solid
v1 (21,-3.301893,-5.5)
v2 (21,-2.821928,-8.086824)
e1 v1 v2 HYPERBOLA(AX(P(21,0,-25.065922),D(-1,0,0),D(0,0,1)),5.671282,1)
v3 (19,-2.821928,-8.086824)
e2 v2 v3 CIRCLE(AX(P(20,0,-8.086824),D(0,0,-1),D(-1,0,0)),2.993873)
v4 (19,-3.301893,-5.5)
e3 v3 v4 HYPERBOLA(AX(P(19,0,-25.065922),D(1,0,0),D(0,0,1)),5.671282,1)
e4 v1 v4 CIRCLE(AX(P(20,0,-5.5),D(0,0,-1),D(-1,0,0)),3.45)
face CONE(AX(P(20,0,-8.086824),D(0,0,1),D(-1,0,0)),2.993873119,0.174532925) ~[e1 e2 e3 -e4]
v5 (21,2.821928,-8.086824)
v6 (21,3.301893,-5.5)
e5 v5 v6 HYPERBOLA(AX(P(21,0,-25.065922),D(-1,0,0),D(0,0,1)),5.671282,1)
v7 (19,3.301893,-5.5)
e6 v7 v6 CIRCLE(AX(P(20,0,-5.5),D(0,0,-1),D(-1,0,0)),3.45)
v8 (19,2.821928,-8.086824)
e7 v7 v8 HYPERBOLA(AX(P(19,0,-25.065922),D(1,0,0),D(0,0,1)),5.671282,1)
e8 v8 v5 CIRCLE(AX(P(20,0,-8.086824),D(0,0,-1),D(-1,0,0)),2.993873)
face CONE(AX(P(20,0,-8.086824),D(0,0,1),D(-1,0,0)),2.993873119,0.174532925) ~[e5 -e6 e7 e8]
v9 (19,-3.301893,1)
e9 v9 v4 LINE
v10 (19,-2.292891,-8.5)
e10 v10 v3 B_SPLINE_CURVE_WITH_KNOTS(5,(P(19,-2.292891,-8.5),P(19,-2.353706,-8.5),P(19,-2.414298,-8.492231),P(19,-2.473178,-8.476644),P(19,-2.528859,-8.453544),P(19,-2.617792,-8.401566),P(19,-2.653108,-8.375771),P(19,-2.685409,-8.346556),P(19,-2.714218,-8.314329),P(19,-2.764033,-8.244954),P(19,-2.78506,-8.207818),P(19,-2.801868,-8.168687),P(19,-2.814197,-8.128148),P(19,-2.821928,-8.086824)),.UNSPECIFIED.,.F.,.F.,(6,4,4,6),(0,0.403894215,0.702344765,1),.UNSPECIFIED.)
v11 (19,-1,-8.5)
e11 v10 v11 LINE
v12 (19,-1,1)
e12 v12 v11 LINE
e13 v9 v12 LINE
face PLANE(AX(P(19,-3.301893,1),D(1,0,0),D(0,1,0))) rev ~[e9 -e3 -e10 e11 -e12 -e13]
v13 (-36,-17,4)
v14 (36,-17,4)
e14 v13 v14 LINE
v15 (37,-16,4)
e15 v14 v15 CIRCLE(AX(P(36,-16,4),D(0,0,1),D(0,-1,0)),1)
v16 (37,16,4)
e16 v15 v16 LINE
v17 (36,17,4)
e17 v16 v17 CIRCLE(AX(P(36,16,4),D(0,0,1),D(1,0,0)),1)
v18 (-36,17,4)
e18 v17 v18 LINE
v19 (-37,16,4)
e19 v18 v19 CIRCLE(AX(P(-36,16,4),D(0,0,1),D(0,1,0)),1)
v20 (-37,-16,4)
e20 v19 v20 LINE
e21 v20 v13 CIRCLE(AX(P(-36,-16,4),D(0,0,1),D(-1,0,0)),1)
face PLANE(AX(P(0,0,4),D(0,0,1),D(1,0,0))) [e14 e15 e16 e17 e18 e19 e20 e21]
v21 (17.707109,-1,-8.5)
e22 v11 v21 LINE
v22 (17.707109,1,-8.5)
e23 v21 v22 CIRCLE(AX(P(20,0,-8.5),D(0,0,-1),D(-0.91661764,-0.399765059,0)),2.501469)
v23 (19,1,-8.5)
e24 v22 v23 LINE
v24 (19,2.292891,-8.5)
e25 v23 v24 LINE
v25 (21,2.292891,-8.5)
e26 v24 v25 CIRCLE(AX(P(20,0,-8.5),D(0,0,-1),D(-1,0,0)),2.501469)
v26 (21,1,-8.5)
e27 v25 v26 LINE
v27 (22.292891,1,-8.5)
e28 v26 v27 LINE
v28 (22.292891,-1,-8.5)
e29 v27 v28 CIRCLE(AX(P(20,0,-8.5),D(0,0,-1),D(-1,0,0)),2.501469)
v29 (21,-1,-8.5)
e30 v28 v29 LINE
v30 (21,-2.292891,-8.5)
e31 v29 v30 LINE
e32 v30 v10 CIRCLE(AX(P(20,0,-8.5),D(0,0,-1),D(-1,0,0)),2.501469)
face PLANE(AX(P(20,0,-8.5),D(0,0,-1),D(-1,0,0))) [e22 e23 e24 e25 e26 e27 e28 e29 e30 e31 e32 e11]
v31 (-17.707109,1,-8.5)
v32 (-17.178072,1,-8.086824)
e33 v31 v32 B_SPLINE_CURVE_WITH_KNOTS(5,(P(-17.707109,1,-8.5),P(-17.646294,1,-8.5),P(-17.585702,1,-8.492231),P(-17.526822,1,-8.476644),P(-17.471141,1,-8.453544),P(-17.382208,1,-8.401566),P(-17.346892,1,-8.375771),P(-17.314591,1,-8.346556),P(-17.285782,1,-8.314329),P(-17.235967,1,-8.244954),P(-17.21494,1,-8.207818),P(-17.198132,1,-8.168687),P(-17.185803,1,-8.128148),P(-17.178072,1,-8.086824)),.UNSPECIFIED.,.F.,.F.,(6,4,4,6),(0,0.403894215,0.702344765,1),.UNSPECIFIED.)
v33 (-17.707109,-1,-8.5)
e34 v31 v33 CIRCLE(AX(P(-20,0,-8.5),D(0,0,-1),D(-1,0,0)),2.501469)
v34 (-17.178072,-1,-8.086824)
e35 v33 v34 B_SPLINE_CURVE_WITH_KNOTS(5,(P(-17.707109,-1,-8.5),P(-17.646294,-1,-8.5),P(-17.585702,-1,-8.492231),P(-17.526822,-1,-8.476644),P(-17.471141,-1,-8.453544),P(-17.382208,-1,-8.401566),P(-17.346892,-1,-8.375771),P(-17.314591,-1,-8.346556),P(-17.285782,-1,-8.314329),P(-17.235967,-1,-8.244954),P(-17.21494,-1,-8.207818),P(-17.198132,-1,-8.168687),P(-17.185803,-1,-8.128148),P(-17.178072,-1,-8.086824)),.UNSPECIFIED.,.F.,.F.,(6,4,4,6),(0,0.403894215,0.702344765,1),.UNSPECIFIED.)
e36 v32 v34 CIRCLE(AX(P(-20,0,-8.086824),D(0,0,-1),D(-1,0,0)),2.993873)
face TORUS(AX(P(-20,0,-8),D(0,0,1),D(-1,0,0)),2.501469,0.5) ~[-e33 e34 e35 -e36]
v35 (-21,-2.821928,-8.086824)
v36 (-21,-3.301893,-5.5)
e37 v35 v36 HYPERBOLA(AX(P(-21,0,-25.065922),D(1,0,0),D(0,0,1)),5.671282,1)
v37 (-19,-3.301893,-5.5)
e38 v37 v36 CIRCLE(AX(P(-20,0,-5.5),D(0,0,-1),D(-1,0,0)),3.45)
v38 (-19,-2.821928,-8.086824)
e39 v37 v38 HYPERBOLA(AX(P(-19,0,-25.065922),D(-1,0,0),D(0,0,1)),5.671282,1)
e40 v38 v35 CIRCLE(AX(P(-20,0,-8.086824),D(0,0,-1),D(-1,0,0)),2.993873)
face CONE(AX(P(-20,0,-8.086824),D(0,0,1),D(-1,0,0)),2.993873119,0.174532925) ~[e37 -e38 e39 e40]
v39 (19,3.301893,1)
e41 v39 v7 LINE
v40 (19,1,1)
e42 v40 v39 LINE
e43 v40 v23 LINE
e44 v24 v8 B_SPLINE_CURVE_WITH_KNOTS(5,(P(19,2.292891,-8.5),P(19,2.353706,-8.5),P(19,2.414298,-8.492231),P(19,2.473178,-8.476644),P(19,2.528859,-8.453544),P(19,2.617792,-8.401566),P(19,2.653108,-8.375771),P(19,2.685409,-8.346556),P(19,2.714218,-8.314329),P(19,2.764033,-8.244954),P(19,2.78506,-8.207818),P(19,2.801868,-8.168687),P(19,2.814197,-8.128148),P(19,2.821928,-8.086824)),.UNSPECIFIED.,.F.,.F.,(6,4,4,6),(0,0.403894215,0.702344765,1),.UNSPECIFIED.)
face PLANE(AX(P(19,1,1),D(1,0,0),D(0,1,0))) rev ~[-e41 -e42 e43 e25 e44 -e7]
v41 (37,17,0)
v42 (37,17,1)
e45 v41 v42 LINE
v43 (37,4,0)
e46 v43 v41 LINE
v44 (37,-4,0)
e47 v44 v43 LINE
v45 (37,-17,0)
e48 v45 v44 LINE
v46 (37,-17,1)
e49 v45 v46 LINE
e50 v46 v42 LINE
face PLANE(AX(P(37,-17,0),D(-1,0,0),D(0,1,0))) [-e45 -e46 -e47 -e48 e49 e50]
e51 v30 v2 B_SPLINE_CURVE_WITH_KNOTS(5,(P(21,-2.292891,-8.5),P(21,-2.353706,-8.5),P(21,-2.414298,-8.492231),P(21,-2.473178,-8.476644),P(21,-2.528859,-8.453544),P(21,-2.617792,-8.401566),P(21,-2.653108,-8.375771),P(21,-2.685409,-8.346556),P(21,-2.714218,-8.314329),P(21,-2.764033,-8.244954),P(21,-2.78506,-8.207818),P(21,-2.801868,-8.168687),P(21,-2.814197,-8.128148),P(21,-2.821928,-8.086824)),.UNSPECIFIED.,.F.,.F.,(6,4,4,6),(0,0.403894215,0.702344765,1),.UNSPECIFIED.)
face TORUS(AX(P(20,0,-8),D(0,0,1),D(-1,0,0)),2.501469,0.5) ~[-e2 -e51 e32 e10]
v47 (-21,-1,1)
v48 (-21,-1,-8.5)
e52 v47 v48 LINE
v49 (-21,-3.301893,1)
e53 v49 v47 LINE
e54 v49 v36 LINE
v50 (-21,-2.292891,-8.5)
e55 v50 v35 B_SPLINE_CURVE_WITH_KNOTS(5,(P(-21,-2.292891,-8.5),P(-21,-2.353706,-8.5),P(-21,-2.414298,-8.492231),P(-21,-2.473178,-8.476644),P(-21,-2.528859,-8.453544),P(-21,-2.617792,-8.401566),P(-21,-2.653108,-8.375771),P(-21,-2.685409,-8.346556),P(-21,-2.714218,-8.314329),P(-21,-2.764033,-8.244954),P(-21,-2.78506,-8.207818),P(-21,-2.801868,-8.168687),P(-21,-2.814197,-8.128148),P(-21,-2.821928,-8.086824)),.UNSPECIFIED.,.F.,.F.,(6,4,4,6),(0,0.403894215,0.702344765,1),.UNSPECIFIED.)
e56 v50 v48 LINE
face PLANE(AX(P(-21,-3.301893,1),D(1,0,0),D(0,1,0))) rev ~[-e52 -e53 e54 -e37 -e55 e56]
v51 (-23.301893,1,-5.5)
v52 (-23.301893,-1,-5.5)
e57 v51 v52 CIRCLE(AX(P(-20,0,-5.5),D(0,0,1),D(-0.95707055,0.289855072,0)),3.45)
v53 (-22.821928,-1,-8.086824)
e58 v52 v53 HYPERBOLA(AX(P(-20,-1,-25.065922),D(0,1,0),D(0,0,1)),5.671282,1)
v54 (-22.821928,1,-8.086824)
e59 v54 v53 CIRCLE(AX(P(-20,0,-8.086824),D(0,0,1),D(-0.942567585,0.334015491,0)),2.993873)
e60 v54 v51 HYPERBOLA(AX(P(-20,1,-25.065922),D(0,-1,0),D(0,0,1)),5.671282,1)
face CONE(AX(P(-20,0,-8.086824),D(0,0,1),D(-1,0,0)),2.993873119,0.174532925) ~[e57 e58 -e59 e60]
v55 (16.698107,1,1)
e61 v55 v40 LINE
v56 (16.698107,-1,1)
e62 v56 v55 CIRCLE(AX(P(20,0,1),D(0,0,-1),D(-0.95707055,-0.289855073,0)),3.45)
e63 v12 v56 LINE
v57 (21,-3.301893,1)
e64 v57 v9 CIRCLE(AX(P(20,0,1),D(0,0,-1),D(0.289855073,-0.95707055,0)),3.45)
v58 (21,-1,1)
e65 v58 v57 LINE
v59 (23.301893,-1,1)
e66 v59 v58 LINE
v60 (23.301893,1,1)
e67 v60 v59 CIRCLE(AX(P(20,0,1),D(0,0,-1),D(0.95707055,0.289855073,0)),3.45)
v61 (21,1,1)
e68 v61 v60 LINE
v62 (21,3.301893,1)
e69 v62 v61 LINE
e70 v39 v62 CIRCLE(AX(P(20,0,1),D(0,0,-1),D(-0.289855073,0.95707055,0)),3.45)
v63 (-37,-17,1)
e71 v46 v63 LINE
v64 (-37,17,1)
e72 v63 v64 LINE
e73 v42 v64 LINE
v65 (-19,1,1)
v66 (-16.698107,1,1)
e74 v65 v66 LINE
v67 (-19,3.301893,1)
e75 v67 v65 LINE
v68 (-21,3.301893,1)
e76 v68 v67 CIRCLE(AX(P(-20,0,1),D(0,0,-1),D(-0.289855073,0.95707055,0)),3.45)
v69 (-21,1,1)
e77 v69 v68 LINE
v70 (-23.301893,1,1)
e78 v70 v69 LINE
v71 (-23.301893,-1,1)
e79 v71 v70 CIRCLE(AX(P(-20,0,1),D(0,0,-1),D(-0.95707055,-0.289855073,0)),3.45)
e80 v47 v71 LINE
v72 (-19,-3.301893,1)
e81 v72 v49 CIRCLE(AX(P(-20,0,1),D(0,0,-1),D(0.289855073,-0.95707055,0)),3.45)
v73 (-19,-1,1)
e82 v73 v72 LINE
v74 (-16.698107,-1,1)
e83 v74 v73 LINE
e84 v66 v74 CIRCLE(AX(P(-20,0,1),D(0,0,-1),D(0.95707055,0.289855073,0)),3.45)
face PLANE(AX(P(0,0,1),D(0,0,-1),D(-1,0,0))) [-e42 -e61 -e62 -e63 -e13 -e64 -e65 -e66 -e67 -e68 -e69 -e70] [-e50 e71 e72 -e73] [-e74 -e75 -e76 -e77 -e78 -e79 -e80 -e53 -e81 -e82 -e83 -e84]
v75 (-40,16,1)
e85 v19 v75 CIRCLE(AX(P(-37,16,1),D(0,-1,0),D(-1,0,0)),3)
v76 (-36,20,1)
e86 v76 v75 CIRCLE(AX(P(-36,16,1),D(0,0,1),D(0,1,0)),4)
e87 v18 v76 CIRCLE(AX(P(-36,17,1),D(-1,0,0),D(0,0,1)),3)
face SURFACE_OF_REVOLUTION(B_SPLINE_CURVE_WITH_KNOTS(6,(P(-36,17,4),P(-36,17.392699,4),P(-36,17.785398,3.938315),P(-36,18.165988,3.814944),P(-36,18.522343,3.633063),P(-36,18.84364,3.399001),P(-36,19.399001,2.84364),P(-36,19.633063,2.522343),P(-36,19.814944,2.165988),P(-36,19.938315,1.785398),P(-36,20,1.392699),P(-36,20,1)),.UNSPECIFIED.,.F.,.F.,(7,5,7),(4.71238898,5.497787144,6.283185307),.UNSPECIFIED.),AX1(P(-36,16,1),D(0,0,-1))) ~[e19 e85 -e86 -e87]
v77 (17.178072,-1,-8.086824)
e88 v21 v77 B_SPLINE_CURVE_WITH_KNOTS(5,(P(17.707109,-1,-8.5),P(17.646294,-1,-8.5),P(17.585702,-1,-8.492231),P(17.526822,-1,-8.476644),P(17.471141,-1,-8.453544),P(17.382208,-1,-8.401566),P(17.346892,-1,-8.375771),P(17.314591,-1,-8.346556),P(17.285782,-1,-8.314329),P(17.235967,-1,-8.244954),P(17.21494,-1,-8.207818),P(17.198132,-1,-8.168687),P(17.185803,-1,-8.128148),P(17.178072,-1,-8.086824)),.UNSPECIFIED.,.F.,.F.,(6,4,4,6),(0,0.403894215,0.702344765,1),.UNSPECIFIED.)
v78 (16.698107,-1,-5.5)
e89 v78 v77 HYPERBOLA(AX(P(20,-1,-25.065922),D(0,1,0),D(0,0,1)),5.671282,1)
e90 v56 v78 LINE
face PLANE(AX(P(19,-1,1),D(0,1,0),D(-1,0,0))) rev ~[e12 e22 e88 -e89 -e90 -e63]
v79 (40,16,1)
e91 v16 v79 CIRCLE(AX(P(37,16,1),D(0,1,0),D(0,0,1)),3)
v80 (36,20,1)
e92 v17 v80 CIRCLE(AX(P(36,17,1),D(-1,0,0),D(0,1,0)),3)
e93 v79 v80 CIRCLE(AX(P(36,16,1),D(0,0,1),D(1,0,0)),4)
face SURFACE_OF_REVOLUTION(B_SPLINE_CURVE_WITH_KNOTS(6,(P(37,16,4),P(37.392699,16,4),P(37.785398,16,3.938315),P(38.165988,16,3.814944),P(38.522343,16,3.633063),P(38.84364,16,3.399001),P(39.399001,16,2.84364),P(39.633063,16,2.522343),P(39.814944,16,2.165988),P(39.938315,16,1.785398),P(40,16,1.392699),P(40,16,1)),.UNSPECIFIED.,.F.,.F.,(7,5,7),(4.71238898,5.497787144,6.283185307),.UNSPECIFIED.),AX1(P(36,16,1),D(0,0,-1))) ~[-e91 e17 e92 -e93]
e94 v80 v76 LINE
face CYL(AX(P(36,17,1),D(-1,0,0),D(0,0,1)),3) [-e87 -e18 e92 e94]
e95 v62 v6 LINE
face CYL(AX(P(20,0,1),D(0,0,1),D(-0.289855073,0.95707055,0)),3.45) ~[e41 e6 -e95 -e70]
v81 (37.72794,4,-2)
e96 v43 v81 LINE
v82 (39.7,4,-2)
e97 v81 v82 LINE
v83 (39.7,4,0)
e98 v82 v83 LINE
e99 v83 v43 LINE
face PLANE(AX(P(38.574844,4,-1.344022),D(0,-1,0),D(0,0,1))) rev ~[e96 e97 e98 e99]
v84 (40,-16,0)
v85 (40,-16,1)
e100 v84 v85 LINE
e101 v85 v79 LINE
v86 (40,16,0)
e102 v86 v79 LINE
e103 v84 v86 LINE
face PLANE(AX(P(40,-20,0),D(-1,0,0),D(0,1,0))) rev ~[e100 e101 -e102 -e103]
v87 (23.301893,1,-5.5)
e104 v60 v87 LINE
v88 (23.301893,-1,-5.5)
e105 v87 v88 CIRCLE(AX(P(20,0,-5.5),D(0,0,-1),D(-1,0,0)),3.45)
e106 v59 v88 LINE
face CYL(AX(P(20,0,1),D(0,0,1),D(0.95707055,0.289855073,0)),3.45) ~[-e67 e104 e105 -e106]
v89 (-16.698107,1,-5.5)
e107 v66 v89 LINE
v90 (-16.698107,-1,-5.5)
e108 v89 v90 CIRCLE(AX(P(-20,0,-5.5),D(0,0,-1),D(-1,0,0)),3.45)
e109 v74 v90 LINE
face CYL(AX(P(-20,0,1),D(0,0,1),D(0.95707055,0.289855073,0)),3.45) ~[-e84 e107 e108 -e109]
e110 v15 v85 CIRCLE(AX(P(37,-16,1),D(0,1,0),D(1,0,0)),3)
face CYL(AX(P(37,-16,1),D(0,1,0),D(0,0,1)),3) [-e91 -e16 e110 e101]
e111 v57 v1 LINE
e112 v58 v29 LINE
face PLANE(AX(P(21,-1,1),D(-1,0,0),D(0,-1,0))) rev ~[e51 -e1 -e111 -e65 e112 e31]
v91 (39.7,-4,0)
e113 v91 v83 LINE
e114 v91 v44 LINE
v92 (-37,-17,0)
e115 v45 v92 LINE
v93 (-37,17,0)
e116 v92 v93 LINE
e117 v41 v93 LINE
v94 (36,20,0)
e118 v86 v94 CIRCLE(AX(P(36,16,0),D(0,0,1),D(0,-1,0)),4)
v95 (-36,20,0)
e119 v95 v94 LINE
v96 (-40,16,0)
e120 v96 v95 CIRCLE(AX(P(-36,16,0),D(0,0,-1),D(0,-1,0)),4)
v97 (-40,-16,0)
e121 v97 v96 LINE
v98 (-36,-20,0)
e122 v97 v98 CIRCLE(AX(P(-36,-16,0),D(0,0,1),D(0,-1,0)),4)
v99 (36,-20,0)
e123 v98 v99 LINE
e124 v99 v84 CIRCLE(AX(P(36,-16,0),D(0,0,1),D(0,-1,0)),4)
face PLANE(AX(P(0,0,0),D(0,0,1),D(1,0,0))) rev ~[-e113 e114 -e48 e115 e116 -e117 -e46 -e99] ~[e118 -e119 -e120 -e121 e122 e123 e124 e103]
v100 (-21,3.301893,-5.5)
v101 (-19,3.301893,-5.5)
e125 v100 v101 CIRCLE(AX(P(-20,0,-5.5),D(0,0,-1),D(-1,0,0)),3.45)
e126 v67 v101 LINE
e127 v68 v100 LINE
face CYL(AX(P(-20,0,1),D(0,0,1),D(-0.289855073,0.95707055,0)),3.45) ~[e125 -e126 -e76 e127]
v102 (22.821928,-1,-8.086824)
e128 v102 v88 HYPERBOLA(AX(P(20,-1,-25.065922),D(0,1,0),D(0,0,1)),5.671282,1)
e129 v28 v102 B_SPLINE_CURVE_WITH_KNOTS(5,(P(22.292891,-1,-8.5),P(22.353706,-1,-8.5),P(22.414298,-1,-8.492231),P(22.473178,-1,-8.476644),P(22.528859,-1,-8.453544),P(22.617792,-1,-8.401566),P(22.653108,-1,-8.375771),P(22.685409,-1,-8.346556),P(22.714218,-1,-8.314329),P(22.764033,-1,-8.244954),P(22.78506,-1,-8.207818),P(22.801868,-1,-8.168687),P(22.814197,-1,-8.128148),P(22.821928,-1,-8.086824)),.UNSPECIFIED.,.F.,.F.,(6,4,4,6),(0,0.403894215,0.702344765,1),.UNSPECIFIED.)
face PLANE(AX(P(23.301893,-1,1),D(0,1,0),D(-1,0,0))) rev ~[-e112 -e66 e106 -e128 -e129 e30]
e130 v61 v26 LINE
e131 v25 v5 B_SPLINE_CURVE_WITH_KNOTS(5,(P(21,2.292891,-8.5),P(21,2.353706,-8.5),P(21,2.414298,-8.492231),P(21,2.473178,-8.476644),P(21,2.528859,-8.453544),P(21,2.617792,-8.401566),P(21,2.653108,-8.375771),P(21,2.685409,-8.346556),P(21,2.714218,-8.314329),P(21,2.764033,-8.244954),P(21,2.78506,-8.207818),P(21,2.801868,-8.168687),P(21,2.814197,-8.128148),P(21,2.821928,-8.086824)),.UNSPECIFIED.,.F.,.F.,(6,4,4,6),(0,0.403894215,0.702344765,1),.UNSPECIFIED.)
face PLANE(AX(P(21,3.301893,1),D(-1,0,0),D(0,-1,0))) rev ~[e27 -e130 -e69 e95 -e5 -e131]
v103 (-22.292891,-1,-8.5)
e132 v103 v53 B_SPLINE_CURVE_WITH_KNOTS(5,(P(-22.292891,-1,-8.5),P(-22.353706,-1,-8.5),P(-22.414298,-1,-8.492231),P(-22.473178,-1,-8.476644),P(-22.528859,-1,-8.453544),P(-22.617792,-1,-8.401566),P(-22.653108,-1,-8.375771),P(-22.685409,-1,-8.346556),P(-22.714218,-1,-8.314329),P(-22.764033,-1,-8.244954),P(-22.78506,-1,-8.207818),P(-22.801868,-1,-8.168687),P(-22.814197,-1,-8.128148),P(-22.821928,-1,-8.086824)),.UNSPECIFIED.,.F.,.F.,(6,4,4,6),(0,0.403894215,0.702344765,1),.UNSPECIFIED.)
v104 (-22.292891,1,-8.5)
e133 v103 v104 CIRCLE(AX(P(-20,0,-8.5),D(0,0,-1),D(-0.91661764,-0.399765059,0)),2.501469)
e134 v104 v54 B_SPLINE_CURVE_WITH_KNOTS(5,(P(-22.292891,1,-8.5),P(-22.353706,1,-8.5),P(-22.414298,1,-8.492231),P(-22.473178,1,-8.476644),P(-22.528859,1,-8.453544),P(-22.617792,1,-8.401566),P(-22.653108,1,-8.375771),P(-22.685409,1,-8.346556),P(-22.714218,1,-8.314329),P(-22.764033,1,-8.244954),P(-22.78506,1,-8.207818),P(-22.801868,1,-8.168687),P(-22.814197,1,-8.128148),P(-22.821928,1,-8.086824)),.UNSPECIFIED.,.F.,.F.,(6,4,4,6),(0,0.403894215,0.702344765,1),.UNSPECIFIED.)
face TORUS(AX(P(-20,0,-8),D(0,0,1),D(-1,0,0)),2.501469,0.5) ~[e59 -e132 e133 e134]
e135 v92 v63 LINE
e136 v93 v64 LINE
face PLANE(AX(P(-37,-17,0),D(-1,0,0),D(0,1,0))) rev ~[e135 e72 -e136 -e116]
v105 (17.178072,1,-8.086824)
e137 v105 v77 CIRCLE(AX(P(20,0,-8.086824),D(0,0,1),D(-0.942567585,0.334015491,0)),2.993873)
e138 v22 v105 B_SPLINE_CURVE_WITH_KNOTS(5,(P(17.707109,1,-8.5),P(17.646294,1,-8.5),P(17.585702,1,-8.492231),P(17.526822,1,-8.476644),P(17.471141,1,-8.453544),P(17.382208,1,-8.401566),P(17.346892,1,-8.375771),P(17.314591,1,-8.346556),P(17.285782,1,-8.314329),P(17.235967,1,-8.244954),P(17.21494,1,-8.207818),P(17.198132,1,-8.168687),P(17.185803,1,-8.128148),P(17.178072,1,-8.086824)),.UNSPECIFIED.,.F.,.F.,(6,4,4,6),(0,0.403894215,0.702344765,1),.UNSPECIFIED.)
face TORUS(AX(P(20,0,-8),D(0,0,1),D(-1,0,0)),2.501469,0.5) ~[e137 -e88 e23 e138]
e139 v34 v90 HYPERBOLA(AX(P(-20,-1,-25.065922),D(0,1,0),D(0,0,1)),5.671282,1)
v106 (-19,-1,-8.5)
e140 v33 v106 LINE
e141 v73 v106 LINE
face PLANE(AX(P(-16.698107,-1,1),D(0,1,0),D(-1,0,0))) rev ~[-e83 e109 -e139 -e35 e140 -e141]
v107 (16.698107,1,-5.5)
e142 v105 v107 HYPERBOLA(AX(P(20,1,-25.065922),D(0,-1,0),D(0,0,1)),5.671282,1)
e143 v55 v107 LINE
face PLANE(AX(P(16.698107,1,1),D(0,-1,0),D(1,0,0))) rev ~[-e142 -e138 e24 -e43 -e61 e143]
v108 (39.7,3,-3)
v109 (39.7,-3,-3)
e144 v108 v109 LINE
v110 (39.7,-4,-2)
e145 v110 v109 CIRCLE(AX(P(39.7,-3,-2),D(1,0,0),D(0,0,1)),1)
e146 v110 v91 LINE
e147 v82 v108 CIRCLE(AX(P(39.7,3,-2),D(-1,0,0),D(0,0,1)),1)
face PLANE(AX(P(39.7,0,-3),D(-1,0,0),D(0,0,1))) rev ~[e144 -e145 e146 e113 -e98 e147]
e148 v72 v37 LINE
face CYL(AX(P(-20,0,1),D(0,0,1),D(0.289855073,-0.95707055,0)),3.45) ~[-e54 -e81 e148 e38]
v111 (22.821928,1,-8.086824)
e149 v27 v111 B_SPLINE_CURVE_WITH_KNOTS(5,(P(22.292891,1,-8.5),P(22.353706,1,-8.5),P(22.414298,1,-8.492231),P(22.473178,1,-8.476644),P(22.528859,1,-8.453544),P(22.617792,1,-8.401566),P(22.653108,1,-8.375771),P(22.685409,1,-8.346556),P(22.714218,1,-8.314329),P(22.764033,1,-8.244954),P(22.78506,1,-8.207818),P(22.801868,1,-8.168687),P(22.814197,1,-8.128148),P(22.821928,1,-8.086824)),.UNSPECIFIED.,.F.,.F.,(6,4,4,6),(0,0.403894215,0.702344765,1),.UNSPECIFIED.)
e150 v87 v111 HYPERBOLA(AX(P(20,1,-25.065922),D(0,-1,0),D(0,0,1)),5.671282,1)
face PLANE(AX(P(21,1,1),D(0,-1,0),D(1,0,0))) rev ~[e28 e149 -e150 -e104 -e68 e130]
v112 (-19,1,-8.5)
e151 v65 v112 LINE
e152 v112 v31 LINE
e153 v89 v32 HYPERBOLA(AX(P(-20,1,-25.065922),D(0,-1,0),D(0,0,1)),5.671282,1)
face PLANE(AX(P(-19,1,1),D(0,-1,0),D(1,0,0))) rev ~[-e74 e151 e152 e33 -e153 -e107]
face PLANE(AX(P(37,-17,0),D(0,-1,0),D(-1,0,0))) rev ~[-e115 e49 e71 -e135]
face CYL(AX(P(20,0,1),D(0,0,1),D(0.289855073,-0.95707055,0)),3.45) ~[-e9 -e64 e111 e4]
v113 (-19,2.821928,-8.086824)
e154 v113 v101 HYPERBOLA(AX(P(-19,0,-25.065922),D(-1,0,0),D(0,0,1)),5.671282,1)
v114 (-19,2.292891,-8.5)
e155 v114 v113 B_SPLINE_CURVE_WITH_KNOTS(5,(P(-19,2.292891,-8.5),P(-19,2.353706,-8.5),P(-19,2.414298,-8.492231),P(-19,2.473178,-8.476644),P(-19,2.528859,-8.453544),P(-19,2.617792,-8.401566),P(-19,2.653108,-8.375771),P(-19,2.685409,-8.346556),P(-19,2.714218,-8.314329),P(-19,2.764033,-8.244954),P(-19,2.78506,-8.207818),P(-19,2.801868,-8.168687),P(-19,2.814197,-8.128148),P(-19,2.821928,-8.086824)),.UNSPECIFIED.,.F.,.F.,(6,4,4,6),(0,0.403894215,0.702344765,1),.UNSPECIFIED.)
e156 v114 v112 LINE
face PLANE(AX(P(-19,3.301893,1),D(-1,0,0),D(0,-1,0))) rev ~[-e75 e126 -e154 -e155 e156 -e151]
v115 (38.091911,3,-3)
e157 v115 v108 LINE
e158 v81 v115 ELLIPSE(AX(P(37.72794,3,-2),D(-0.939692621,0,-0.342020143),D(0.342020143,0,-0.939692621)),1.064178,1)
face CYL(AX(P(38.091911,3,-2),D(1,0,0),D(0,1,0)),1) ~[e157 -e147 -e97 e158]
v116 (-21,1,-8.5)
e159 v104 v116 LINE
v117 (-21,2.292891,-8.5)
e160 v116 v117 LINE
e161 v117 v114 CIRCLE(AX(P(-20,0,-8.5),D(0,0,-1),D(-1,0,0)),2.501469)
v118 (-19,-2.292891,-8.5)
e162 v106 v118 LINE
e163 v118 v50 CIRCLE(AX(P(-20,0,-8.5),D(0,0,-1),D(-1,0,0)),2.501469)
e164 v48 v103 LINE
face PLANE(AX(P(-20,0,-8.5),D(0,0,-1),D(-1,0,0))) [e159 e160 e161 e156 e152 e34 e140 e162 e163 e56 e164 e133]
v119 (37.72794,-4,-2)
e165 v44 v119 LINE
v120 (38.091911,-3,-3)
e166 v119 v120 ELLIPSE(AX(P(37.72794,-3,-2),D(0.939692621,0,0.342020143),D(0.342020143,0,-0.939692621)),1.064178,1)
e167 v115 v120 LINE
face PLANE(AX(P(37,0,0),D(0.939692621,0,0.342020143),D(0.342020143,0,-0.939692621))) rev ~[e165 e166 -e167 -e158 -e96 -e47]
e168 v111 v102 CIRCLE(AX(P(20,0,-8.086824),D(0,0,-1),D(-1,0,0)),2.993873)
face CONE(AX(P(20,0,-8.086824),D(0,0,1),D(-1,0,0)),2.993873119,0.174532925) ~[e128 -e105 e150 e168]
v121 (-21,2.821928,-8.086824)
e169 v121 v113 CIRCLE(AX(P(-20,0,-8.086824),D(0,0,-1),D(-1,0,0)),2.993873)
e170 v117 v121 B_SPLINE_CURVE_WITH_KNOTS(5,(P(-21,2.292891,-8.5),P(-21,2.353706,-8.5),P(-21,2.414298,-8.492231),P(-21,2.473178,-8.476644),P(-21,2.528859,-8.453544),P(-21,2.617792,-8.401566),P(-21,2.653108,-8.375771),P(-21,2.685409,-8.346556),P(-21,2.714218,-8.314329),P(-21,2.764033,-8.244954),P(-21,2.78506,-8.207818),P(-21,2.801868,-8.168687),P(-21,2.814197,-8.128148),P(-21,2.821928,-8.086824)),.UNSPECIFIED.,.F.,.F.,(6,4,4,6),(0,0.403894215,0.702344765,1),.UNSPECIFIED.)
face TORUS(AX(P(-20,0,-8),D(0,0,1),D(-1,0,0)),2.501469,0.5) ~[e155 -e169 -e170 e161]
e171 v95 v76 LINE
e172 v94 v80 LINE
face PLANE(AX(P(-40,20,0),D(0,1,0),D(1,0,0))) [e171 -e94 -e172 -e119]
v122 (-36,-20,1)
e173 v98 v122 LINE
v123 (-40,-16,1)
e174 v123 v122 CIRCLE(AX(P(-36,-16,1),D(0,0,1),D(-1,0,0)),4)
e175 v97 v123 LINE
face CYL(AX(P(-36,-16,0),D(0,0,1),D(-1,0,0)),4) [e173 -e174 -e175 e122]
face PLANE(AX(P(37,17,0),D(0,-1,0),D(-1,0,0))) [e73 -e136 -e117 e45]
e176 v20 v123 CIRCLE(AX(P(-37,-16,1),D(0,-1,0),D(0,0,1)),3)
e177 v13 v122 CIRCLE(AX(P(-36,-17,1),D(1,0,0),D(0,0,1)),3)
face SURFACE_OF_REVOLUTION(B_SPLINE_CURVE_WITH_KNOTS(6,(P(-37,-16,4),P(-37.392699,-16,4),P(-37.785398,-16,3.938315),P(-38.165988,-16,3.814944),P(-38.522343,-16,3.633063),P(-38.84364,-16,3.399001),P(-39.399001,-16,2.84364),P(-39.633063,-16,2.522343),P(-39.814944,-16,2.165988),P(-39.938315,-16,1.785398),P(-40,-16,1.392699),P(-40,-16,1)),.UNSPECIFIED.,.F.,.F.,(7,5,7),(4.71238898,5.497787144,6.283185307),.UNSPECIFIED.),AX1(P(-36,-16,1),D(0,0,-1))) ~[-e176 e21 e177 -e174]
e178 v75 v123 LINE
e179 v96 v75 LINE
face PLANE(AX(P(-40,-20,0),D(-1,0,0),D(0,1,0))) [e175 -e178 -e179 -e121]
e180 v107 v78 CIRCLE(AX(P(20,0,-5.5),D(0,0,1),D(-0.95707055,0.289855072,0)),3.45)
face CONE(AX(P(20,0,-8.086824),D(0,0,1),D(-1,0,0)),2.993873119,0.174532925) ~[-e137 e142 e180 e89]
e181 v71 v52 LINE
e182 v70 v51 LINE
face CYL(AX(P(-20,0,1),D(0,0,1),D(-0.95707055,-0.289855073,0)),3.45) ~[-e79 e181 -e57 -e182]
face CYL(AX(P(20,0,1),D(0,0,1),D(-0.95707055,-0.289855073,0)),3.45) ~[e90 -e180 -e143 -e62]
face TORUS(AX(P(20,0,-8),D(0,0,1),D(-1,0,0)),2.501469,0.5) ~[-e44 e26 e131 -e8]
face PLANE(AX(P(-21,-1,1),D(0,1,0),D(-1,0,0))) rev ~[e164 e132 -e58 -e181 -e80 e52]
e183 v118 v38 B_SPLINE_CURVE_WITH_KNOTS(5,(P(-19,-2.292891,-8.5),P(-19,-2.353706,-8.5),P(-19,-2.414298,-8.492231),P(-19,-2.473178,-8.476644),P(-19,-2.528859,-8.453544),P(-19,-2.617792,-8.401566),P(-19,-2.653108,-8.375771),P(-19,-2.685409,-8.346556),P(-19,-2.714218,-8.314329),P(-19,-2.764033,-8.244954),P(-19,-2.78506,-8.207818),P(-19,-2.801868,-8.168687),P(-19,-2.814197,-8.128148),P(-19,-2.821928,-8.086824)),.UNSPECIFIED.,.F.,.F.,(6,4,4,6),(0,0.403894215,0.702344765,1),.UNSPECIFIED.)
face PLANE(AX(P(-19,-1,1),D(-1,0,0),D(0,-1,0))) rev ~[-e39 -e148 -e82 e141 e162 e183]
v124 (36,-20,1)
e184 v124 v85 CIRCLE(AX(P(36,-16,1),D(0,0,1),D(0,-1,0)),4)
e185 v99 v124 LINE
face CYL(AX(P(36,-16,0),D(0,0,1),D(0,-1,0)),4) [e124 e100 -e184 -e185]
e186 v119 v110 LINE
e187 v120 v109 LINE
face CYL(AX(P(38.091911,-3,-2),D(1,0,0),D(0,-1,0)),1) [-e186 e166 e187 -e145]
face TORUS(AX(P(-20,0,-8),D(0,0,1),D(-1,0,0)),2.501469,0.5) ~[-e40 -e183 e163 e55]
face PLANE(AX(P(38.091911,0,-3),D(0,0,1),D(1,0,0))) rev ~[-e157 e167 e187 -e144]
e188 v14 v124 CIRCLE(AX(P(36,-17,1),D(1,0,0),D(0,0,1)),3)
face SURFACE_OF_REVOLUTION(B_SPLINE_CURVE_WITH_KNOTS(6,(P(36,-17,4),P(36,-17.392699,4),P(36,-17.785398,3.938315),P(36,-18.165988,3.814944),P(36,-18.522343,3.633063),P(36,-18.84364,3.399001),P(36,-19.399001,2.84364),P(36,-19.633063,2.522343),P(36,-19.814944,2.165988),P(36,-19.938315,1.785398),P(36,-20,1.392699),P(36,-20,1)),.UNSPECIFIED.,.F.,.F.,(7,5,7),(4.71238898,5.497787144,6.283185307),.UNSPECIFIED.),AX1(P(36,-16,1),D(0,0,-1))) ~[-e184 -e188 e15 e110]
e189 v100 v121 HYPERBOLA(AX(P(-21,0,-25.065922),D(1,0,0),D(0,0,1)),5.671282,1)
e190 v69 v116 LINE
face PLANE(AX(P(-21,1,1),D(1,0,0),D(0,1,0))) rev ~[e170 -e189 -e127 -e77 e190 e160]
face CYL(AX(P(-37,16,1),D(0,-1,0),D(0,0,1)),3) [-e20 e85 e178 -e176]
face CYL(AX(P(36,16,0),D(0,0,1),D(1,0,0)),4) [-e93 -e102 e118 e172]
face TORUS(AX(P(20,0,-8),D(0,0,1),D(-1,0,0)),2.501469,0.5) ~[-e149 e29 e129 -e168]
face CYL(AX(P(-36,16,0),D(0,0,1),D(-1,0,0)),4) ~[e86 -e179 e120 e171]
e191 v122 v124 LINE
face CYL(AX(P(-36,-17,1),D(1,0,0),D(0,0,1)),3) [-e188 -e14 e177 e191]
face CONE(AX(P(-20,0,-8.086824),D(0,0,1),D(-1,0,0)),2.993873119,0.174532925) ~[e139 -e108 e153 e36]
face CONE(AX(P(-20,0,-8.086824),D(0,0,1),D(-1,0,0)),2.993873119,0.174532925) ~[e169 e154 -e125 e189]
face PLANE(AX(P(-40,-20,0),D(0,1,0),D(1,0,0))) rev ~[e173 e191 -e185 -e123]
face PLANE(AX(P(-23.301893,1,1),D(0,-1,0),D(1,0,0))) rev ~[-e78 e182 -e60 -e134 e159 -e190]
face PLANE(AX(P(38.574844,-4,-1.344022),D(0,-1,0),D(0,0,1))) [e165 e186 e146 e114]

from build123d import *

# Parameters (mm, degrees)
SKETCH1_W           = 80
SKETCH1_H           = 40
BOSS_EXTRUDE1_DEPTH = 4
FILLET1_R           = 4
FILLET2_R           = 3
SKETCH2_W           = 74
SKETCH2_H           = 34
CUT_EXTRUDE1_DEPTH  = 1
BOSS_EXTRUDE2_DEPTH = 4
FILLET3_R           = 1
BOSS_EXTRUDE3_DEPTH = 9.5
LPATTERN1_COUNT     = 2
LPATTERN1_PITCH     = 40


with BuildPart() as part:
    # Sketch1 → Boss-Extrude1 (new body)
    with BuildSketch(Plane.XY):
        Rectangle(SKETCH1_W, SKETCH1_H)
    extrude(amount=BOSS_EXTRUDE1_DEPTH)

    # Fillet1
    fillet1_edges = [part.edges().sort_by_distance(p)[0] for p in [
        (-40, 20, 2),
        (40, 20, 2),
        (40, -20, 2),
        (-40, -20, 2),
    ]]
    fillet(fillet1_edges, radius=FILLET1_R)

    # Fillet2
    fillet2_edges = [part.edges().sort_by_distance(p)[0] for p in [
        (0, -20, 4),
        (-40, 0, 4),
        (40, 0, 4),
        (0, 20, 4),
        (-38.828427125, 18.828427125, 4),
        (38.828427125, 18.828427125, 4),
        (38.828427125, -18.828427125, 4),
        (-38.828427125, -18.828427125, 4),
    ]]
    fillet(fillet2_edges, radius=FILLET2_R)

    # Sketch2 → Cut-Extrude1 (cut)
    with BuildSketch(Plane(origin=(0, 0, 0), x_dir=(-1, 0, 0), z_dir=(0, 0, -1))):
        Rectangle(SKETCH2_W, SKETCH2_H)
    extrude(amount=-CUT_EXTRUDE1_DEPTH, mode=Mode.SUBTRACT)

    # Sketch3 → Boss-Extrude2 (add, symmetric)
    with BuildSketch(Plane(origin=(0, 0, 0), x_dir=(0, 0, -1), z_dir=(0, 1, 0))):
        Polygon((0, -37), (3, -38.091910703), (3, -39.7), (0, -39.7), align=None)
    extrude(amount=BOSS_EXTRUDE2_DEPTH, both=True)

    # Fillet3
    fillet3_edges = [part.edges().sort_by_distance(p)[0] for p in [
        (38.895955351, -4, -3),
        (38.895955351, 4, -3),
    ]]
    fillet(fillet3_edges, radius=FILLET3_R)

    # Sketch4 → Boss-Extrude3 (add)
    with BuildSketch(Plane(origin=(0, 0, 1), x_dir=(-1, 0, 0), z_dir=(0, 0, -1))):
        with BuildLine():
            Line((-23.301893396, -1), (-21, -1))
            Line((-21, -1), (-21, -3.301893396))
            ThreePointArc((-21, -3.301893396), (-20, -3.45), (-19, -3.301893396))
            Line((-19, -3.301893396), (-19, -1))
            Line((-19, -1), (-16.698106604, -1))
            ThreePointArc((-16.698106604, -1), (-16.55, 0), (-16.698106604, 1))
            Line((-16.698106604, 1), (-19, 1))
            Line((-19, 1), (-19, 3.301893396))
            ThreePointArc((-19, 3.301893396), (-20, 3.45), (-21, 3.301893396))
            Line((-21, 3.301893396), (-21, 1))
            Line((-21, 1), (-23.301893396, 1))
            ThreePointArc((-23.301893396, 1), (-23.45, 0), (-23.301893396, -1))
        make_face()
    boss_extrude3 = extrude(amount=BOSS_EXTRUDE3_DEPTH)

    # Sketch5 → Cut-Revolve1 (revolve, cut)
    with BuildSketch(Plane(origin=(0, 0, 0), x_dir=(0, 0, -1), z_dir=(0, 1, 0))):
        with BuildLine():
            Line((5.5, -16.55), (8.5, -16.55))
            Line((8.5, -16.55), (8.5, -17.498530758))
            ThreePointArc((8.5, -17.498530758), (8.383022222, -17.177136953), (8.086824089, -17.006126881))
            Line((8.086824089, -17.006126881), (5.5, -16.55))
        make_face()
    cut_revolve1 = revolve(axis=Axis((20, 0, 1), (0, 0, -1)), mode=Mode.SUBTRACT)

    # LPattern1: Boss-Extrude3, Cut-Revolve1 ×2
    with Locations(*[(-i * LPATTERN1_PITCH, 0, 0) for i in range(1, LPATTERN1_COUNT)]):
        add(boss_extrude3)
        add(cut_revolve1, mode=Mode.SUBTRACT)


solid = part.part
